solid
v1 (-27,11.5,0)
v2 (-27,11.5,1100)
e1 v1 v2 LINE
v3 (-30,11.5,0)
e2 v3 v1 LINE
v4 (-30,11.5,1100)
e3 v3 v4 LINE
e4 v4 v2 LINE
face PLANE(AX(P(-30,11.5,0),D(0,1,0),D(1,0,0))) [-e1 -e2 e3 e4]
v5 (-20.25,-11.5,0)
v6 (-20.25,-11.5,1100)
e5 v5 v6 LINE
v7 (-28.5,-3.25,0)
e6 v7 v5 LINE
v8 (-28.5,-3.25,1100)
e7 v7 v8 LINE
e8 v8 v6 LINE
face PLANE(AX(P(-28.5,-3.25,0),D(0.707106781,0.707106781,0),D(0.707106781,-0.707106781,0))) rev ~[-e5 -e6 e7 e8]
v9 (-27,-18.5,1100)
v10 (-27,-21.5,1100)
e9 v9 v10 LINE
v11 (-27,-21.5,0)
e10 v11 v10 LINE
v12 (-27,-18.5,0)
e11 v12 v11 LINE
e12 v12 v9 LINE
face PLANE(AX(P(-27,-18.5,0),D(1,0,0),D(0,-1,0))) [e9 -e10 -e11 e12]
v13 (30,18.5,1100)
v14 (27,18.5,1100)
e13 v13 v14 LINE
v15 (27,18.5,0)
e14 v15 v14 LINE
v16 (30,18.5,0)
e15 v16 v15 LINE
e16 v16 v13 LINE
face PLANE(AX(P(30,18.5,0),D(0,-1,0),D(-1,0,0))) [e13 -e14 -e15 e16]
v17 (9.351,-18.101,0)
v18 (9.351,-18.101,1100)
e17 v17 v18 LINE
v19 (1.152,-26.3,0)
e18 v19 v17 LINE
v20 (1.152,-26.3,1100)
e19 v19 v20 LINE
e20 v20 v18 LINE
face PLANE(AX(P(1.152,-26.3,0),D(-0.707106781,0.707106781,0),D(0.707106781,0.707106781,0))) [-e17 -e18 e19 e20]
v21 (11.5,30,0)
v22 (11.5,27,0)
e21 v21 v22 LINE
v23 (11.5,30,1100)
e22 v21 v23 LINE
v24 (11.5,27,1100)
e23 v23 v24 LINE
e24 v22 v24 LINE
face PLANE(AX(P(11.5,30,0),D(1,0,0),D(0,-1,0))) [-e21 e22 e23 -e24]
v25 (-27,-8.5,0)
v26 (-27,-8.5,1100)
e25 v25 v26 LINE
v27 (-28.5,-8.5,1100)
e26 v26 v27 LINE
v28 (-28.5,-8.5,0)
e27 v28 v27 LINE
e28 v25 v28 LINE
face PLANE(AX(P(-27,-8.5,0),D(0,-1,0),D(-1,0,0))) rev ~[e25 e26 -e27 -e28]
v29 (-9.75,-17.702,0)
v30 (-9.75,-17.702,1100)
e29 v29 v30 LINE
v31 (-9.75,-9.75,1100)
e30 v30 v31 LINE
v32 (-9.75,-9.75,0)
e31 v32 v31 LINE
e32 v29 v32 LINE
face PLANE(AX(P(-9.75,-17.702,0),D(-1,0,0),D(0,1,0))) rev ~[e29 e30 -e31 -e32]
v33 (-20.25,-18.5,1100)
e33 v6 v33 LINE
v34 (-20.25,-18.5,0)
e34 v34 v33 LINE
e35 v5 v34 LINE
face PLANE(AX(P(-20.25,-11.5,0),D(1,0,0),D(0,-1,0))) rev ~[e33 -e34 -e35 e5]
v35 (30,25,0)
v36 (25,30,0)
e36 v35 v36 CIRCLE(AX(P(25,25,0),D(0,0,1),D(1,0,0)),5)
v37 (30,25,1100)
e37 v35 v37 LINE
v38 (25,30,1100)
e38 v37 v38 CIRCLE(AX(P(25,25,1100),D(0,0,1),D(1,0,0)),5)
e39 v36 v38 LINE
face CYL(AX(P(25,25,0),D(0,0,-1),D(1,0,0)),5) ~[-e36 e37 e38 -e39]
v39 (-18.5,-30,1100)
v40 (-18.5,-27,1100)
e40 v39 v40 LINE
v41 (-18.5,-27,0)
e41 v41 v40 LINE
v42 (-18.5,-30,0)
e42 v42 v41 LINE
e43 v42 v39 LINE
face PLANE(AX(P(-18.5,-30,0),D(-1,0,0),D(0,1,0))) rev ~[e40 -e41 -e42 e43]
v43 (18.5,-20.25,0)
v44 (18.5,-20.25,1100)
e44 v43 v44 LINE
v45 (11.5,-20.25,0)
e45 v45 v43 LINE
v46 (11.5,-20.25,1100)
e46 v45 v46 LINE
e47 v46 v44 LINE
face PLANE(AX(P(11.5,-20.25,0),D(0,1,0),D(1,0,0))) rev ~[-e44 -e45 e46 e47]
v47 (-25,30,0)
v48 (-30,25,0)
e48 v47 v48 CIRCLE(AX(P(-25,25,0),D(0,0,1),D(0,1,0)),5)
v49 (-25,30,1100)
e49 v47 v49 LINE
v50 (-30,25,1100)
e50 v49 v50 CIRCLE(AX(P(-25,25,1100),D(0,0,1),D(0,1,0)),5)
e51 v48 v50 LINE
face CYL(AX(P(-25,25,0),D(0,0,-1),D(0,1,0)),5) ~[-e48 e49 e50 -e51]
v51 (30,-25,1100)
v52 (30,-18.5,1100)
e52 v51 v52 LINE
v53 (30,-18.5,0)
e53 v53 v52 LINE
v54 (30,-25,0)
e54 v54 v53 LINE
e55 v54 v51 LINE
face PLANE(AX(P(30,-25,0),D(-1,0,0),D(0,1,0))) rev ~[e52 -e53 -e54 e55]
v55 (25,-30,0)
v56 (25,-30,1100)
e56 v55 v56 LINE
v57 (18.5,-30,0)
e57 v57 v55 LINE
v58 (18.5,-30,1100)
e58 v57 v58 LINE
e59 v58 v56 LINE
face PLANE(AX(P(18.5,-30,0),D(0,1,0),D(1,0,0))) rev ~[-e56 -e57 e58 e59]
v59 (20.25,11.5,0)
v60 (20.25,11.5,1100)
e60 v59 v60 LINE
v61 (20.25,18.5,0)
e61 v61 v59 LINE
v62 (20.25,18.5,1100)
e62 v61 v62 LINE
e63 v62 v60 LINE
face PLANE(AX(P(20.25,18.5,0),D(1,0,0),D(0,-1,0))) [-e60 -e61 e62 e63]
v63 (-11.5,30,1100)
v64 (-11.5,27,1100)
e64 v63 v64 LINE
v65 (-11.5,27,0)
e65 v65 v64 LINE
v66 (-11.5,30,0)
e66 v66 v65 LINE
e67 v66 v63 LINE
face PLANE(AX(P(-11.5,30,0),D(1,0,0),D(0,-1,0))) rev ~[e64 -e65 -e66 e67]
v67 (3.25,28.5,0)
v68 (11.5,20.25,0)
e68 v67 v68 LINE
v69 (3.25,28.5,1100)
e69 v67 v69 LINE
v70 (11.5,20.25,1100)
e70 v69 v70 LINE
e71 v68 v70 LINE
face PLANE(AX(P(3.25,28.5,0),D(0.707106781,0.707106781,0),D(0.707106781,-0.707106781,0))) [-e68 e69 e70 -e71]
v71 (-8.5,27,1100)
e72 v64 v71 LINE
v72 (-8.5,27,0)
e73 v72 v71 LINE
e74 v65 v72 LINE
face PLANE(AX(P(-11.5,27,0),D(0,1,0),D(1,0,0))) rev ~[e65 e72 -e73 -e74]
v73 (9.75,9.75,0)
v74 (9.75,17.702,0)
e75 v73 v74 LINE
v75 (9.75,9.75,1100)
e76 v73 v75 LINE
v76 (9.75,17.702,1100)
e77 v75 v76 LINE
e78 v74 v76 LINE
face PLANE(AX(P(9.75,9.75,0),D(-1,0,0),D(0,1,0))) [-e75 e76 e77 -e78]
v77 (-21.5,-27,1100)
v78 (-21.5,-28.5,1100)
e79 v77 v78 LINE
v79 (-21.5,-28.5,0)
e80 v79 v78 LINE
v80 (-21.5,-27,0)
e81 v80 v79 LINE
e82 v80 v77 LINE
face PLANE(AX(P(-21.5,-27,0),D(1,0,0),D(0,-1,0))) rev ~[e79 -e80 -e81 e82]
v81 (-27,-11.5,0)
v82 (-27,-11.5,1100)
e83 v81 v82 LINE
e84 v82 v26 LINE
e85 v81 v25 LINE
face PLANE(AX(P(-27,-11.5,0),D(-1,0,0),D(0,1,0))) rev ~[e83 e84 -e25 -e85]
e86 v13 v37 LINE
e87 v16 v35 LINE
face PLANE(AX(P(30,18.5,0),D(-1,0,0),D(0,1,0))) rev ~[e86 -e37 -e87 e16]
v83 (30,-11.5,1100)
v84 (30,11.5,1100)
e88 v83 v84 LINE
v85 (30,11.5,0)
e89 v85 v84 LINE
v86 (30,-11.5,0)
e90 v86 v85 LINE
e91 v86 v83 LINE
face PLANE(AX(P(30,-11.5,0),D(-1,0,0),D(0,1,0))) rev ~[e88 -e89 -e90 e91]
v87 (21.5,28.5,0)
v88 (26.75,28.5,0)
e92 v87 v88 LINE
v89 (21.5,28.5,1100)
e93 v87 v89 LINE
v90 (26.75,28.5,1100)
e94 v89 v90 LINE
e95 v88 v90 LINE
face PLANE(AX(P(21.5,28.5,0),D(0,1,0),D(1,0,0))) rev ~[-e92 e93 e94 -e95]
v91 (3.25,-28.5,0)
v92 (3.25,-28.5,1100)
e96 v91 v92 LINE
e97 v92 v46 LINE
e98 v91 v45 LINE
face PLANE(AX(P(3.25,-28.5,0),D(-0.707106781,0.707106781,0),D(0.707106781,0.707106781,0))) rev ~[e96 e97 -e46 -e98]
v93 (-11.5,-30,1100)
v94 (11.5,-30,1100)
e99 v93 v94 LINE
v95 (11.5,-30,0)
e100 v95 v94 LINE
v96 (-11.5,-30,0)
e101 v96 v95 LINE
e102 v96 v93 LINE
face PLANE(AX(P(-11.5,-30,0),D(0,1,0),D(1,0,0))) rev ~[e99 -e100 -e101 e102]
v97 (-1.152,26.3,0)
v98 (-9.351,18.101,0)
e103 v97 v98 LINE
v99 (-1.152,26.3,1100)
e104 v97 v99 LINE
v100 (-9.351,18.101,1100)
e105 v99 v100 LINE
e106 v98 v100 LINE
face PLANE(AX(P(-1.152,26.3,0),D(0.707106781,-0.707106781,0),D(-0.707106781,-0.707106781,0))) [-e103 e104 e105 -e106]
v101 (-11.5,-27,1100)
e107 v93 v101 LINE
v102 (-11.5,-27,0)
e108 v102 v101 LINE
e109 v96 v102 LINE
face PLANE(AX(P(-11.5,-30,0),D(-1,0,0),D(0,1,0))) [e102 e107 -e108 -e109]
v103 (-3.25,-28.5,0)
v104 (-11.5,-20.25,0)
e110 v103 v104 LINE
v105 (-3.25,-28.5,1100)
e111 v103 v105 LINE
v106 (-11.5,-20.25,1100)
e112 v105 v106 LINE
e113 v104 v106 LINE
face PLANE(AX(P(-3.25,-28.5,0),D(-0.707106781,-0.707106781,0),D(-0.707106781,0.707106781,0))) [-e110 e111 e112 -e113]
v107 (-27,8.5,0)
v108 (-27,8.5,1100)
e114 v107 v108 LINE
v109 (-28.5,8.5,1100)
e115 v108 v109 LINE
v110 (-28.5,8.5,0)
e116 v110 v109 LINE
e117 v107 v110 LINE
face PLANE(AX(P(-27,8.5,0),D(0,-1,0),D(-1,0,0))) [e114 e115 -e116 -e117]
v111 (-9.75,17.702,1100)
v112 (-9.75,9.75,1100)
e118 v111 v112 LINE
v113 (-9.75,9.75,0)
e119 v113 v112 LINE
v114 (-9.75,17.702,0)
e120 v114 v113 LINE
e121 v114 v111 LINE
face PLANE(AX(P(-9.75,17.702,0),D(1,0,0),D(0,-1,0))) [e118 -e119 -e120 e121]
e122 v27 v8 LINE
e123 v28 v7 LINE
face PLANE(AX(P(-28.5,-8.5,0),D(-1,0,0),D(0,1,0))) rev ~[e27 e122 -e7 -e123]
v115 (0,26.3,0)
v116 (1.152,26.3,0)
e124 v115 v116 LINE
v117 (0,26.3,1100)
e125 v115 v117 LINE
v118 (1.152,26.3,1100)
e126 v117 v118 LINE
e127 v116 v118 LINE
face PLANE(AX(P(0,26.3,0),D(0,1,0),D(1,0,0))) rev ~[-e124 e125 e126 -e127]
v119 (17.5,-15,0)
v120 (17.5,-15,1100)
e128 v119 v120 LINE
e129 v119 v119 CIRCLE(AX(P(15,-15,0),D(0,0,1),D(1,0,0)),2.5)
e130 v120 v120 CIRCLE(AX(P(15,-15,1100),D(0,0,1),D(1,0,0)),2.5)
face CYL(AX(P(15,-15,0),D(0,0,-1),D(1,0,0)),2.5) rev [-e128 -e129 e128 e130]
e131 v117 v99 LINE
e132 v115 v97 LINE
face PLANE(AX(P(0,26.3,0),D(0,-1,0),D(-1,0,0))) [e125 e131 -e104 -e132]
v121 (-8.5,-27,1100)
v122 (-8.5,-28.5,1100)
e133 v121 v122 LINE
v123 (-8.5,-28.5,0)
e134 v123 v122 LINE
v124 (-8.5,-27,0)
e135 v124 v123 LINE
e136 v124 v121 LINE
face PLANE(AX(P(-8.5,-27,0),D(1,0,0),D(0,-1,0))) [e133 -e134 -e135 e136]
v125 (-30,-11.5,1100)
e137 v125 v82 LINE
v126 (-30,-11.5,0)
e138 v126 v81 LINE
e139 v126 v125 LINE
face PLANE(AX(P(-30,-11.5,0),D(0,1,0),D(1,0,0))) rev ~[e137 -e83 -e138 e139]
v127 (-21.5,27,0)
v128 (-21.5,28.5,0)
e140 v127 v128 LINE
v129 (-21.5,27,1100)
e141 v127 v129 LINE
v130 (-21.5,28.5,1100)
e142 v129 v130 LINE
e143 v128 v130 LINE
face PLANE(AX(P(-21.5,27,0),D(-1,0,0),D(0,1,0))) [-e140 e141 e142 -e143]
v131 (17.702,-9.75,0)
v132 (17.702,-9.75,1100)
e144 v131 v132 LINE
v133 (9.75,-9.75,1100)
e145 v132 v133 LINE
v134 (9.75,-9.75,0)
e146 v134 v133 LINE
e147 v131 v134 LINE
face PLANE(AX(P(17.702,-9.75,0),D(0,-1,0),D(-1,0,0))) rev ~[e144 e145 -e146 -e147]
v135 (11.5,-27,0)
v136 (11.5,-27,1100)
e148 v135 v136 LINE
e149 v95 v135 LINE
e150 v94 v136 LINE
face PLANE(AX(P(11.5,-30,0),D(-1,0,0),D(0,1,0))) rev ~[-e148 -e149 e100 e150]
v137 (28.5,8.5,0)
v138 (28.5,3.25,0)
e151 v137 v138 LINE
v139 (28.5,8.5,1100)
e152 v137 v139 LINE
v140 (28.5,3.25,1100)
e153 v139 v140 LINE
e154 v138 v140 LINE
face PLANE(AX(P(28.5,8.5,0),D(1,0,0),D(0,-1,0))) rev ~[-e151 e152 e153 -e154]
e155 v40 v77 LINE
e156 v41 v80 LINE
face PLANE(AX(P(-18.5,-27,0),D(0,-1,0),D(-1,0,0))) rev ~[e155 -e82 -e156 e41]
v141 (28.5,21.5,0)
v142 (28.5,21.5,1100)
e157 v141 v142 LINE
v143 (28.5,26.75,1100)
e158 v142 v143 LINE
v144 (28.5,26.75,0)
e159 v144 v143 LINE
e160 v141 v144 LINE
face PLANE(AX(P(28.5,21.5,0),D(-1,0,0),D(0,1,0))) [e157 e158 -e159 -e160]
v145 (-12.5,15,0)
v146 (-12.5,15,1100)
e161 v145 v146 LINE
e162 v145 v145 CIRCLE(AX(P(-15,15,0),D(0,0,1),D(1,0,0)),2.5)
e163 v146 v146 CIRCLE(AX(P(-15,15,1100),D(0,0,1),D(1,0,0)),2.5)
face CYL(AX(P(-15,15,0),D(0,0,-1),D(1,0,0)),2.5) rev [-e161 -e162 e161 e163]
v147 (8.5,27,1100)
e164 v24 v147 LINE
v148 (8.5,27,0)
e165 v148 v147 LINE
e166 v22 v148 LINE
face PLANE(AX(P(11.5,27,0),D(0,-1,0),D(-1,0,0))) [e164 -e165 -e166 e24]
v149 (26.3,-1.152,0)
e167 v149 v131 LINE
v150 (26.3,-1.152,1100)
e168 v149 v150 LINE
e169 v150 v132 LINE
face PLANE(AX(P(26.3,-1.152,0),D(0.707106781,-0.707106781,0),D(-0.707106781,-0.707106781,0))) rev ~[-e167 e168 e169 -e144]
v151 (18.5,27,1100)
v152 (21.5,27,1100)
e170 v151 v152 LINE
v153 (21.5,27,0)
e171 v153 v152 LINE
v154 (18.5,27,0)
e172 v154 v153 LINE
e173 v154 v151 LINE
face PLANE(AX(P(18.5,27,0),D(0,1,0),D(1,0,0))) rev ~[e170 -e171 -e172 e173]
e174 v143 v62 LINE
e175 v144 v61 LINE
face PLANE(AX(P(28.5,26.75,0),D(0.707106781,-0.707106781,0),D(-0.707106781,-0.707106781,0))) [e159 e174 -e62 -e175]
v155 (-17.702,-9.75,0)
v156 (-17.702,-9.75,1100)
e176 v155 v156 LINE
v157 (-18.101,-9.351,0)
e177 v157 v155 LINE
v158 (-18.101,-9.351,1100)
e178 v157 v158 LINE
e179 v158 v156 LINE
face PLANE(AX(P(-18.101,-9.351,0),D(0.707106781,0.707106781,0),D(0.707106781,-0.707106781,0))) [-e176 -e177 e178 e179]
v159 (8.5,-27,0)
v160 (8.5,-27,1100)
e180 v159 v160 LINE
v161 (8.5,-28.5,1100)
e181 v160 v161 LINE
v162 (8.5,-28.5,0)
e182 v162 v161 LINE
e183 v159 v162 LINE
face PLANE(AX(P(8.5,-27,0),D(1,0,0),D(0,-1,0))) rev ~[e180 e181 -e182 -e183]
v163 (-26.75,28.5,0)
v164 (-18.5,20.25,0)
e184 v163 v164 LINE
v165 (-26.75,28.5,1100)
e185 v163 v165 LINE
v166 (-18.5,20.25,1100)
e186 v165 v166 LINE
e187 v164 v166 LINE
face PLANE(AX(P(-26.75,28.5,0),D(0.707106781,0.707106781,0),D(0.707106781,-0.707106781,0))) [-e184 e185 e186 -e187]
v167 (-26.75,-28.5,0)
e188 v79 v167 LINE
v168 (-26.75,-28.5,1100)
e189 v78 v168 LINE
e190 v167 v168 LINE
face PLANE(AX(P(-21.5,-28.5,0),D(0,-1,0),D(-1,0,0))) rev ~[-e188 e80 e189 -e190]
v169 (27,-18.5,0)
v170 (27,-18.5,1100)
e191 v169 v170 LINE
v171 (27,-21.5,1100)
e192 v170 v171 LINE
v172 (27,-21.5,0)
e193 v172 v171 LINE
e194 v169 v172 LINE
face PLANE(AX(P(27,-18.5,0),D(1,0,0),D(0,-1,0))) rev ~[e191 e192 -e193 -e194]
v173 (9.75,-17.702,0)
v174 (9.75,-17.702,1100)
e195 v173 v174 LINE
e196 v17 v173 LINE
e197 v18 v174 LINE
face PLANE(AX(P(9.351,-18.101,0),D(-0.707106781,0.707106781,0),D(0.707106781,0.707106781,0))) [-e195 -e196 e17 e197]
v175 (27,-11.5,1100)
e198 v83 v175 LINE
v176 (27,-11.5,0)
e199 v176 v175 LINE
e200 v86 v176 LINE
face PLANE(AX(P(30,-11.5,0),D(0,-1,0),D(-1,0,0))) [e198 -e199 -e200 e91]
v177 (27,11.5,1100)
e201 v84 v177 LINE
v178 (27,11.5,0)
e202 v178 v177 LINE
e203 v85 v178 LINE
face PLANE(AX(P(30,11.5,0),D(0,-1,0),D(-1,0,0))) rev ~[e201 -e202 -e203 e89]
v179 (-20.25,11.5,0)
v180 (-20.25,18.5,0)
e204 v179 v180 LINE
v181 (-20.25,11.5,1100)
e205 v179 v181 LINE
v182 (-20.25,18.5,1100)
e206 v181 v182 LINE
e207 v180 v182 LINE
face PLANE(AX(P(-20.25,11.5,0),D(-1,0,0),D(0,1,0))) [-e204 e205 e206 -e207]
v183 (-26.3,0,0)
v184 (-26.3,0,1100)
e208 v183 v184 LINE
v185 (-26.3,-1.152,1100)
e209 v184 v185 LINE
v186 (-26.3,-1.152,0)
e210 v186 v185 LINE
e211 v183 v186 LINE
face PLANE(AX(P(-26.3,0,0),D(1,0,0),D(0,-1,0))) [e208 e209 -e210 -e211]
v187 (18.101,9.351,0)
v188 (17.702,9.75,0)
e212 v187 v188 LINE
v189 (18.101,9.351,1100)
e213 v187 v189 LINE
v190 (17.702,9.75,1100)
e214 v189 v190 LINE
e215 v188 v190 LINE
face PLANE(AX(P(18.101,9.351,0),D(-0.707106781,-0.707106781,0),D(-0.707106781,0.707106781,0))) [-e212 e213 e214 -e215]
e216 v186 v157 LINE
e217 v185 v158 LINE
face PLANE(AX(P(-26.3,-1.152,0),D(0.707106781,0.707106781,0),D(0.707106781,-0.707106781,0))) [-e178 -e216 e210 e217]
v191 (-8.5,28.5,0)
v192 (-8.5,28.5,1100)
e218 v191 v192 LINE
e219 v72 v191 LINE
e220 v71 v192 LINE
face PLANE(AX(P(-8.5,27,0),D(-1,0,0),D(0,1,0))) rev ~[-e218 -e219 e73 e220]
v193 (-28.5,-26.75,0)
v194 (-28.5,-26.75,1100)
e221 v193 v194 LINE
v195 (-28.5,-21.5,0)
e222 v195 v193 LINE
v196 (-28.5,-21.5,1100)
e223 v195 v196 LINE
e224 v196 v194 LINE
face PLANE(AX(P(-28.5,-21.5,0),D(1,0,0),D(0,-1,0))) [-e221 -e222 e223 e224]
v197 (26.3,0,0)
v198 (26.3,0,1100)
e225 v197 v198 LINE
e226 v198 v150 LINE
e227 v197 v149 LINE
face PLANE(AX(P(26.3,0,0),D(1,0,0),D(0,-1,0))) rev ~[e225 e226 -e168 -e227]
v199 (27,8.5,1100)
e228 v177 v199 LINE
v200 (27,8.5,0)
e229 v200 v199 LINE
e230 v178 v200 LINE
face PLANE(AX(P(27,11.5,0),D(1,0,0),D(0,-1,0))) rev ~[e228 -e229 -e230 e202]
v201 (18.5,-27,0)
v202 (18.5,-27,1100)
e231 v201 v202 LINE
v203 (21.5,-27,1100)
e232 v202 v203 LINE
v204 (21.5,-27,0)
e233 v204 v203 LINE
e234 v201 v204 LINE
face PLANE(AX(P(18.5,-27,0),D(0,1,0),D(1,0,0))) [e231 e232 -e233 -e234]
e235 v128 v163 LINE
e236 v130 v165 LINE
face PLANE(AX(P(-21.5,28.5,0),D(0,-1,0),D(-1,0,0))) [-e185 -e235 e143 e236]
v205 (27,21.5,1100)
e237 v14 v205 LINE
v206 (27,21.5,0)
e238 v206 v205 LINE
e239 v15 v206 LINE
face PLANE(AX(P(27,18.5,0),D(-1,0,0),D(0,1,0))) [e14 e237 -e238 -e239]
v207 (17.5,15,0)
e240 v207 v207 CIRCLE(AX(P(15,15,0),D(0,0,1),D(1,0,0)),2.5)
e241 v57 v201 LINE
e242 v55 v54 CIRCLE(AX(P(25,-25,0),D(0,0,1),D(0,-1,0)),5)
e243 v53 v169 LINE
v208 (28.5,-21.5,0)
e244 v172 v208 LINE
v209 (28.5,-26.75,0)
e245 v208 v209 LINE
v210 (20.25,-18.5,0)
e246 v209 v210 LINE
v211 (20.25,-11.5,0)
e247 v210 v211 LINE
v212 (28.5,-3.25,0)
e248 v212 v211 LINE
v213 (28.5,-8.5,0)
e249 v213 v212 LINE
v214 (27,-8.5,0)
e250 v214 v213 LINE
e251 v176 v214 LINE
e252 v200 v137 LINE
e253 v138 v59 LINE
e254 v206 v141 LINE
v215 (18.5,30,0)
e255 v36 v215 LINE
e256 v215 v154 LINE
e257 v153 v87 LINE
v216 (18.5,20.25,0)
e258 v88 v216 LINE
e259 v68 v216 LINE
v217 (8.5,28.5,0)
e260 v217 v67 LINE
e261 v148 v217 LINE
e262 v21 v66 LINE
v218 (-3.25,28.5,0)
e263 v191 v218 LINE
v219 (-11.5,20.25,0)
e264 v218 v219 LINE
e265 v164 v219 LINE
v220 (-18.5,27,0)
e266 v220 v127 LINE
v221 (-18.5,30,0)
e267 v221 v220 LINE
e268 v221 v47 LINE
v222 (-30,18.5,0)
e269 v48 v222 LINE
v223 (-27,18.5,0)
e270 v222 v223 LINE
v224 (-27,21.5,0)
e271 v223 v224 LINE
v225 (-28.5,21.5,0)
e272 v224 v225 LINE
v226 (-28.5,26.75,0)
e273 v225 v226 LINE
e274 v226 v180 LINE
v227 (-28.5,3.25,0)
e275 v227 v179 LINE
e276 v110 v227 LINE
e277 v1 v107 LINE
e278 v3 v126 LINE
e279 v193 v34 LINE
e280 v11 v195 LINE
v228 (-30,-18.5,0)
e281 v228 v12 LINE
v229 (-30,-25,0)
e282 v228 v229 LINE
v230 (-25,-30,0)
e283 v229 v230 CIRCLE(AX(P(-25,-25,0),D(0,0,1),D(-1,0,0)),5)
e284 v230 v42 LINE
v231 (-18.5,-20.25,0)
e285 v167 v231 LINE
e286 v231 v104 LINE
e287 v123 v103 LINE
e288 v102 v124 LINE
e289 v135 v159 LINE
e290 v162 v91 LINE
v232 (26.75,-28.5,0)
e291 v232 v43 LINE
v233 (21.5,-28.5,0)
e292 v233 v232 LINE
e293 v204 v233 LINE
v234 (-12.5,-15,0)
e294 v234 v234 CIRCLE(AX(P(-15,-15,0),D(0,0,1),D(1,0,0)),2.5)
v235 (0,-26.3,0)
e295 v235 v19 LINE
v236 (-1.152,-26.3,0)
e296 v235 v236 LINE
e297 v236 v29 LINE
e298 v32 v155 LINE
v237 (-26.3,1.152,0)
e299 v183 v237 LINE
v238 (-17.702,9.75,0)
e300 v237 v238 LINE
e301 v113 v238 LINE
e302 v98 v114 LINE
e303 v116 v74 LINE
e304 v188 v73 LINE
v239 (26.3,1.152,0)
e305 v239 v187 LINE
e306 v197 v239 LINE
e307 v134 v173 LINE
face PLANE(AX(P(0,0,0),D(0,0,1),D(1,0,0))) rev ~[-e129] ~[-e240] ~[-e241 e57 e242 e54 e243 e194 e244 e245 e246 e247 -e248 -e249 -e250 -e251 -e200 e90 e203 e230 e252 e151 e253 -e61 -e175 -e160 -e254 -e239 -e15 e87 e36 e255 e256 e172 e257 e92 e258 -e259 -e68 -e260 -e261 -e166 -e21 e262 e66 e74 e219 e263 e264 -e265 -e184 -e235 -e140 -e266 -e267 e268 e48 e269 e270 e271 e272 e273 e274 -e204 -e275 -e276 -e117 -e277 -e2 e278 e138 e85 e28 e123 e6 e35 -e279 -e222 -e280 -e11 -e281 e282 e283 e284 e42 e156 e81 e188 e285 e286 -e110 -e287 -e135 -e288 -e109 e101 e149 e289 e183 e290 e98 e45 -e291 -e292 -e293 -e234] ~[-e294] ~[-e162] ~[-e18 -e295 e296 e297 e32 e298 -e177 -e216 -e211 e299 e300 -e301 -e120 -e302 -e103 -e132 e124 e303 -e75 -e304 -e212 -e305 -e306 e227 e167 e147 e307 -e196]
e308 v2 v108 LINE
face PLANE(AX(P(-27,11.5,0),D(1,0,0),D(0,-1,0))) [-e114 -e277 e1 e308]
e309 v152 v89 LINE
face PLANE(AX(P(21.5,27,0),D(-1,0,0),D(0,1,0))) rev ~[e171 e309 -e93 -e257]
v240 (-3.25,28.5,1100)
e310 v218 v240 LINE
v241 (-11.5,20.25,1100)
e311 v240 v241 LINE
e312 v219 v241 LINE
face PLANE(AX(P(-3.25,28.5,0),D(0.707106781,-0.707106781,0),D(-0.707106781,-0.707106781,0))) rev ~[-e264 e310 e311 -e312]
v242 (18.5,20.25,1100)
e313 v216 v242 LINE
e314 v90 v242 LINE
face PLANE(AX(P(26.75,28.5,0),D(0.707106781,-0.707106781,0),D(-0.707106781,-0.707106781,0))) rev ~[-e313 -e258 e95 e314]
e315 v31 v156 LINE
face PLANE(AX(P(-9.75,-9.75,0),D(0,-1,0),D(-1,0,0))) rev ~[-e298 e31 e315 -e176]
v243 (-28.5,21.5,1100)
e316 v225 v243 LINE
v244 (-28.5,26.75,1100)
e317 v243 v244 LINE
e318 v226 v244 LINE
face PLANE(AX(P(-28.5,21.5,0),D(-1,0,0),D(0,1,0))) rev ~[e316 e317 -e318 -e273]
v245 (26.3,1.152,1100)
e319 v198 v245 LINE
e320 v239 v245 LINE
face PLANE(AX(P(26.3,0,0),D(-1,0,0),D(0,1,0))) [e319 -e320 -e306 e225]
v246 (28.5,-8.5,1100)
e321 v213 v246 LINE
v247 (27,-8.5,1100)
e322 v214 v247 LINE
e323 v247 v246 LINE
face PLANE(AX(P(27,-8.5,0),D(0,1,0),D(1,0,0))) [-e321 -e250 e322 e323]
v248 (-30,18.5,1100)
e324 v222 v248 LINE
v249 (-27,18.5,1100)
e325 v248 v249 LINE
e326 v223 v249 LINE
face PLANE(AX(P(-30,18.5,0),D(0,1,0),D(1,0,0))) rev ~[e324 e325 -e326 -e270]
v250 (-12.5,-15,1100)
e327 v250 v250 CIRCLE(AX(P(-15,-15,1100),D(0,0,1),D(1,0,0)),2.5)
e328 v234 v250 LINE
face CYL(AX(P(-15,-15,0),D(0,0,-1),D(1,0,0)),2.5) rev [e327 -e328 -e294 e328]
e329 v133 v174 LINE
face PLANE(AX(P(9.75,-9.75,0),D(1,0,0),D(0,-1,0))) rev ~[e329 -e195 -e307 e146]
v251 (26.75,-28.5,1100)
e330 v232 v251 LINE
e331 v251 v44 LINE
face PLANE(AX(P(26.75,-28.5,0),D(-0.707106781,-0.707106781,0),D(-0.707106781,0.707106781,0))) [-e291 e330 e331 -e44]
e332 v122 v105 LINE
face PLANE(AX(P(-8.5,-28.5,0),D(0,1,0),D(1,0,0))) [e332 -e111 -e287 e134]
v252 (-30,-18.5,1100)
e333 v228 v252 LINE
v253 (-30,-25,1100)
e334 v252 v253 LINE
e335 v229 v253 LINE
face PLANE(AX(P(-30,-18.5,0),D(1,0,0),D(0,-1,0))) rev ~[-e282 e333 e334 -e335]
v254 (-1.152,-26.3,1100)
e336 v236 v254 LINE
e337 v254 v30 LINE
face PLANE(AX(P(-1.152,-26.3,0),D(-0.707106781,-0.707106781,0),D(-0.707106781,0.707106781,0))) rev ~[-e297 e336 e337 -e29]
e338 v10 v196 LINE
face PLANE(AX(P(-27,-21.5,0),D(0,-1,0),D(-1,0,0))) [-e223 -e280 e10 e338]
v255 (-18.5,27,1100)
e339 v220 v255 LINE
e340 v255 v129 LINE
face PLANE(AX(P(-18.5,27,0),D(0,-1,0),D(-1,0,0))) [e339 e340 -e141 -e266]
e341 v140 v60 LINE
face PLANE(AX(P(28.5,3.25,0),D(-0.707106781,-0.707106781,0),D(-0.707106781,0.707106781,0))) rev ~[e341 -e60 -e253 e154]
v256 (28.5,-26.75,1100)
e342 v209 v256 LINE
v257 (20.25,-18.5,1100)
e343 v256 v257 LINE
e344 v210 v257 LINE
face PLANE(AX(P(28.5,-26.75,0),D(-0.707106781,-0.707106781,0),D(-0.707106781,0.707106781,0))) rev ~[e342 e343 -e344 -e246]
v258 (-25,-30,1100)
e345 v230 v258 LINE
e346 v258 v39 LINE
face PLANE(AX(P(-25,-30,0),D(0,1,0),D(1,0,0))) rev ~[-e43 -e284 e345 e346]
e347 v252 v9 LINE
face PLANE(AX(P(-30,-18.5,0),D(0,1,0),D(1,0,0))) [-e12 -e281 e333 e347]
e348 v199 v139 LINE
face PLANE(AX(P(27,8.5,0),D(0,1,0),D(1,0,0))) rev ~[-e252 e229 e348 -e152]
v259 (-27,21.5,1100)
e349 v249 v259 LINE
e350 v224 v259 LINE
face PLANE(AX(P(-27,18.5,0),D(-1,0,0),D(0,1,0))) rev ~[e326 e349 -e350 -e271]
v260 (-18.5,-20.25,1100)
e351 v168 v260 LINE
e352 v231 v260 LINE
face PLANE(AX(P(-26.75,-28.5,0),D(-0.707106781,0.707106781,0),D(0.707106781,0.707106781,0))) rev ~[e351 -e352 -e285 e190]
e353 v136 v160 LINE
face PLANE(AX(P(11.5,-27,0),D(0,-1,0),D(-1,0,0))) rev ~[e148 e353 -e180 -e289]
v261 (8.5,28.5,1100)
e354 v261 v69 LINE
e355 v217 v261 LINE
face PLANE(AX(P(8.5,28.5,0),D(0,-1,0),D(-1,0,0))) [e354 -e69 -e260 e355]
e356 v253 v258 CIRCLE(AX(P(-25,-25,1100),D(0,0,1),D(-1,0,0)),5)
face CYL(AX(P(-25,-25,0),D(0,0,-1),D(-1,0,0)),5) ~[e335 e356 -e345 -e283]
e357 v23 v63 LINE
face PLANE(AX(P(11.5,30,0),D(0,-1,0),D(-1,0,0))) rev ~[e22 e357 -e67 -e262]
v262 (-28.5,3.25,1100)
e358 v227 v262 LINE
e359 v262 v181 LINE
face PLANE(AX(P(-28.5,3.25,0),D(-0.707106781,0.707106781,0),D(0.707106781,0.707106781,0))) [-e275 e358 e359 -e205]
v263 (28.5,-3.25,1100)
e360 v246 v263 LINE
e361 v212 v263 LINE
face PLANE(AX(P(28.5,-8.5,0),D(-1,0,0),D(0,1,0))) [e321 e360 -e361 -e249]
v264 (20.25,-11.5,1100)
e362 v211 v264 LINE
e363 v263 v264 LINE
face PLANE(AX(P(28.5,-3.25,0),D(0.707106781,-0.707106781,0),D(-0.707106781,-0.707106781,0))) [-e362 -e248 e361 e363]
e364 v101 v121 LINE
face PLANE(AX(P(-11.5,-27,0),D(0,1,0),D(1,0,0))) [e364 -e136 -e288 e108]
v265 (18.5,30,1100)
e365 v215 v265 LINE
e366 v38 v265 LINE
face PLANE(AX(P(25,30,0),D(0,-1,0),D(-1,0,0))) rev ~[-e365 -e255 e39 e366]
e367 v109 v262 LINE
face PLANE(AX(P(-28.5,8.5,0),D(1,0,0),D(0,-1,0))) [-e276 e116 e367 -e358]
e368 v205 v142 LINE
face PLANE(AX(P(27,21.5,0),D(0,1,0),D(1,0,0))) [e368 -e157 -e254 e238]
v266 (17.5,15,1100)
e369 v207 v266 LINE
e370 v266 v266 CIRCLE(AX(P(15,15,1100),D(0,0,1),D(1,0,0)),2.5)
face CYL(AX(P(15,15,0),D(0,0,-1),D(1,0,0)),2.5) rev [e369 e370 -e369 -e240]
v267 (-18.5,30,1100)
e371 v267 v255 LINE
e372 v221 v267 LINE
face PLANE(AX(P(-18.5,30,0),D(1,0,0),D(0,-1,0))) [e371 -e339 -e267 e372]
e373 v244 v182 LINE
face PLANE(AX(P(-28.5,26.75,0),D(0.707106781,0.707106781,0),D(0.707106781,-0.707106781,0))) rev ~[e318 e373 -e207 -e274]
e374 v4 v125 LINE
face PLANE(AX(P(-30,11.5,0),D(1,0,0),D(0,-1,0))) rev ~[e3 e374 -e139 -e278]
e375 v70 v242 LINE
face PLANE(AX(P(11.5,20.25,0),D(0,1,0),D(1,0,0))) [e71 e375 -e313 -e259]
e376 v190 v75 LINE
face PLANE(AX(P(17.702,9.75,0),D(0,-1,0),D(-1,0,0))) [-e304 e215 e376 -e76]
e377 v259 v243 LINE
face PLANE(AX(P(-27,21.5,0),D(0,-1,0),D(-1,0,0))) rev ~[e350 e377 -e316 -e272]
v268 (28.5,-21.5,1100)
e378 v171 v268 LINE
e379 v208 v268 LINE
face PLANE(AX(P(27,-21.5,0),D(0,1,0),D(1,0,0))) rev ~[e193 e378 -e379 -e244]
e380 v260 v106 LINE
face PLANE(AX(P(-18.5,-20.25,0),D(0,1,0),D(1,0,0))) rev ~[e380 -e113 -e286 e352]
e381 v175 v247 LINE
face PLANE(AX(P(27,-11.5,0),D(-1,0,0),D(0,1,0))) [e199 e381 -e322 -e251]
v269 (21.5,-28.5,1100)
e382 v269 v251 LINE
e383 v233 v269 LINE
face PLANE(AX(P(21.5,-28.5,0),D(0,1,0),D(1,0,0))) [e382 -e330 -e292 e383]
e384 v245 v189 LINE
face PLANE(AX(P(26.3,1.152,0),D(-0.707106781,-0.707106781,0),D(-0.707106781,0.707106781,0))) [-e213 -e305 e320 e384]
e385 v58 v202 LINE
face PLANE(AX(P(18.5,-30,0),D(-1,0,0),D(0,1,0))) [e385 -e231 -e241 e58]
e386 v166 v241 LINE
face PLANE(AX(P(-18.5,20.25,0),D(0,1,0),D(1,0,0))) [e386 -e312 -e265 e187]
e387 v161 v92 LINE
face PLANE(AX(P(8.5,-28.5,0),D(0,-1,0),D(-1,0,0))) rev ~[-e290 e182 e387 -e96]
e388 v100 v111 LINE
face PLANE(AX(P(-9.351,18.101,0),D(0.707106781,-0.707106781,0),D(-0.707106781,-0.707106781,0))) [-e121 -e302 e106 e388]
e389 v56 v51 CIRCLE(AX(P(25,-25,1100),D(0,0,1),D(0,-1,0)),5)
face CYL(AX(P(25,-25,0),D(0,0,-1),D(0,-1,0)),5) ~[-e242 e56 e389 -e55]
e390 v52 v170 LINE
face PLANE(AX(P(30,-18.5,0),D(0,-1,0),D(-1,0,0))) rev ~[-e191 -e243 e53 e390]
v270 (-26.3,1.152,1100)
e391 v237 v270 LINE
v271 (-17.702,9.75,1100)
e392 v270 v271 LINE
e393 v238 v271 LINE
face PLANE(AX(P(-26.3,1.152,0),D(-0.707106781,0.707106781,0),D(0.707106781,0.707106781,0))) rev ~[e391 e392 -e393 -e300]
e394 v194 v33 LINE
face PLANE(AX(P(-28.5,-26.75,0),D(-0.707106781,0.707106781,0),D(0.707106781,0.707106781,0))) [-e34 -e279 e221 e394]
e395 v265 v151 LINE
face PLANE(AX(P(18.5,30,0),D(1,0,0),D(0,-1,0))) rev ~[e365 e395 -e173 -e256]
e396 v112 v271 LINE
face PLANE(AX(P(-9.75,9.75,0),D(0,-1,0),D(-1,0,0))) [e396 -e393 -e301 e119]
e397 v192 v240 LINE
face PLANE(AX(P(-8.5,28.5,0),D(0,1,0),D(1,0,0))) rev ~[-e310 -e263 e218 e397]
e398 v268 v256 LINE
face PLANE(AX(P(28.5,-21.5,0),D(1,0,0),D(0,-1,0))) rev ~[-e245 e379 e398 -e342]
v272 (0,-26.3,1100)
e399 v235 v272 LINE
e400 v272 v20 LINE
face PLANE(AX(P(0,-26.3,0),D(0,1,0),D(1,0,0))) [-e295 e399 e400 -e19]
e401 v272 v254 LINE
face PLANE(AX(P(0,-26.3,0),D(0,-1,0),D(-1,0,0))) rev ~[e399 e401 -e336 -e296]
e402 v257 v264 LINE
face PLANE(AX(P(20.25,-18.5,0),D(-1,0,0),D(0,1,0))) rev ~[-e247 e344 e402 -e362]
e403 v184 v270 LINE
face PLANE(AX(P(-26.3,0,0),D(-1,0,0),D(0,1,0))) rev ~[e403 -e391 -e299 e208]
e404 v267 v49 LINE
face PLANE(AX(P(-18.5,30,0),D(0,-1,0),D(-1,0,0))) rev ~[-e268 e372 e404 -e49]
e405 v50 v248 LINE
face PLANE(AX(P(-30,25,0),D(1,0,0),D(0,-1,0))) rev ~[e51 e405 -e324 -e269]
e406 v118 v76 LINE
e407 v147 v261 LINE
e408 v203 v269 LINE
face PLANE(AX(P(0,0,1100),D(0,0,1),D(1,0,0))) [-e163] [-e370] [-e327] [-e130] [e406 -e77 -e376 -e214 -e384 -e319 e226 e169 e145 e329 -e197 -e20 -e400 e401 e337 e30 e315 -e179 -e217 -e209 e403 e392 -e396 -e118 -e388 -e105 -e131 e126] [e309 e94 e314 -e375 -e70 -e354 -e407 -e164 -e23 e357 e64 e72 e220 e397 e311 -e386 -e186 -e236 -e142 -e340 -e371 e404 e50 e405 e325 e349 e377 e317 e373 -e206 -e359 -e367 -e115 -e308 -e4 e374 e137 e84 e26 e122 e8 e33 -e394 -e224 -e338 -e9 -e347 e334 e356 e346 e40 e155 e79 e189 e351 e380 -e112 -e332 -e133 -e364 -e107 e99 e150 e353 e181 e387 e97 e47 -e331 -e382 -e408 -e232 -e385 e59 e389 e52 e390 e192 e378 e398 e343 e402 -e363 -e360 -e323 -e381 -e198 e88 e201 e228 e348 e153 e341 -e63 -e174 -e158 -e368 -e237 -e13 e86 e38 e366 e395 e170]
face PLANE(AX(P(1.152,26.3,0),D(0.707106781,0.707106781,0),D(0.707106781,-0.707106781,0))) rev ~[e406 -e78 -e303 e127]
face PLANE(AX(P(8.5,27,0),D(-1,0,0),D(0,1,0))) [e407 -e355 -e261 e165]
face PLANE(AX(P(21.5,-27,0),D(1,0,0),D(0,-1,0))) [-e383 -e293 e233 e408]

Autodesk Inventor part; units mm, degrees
ref_plane "YZ Plane" through (0, 0, 0) normal (1, 0, 0) x (0, 1, 0)
ref_plane "XZ Plane" through (0, 0, 0) normal (0, 1, 0) x (-1, 0, 0)
ref_plane "XY Plane" through (0, 0, 0) normal (0, 0, 1) x (1, 0, 0)
sketch "Skizze1" plane through (0, 0, 0) normal (0, 0, 1) x (1, 0, 0)
  line L0 (-30, -30) -> (30, 30) construction
  line L1 (30, -30) -> (-30, 30) construction
  line L2 (-15, -15) -> (15, -15) construction
  line L3 (15, -15) -> (15, 15) construction
  line L4 (15, 15) -> (-15, 15) construction
  line L5 (-15, 15) -> (-15, -15) construction
  line L6 (-15, -15) -> (15, 15) construction
  line L7 (15, -15) -> (-15, 15) construction
  circle A0 centre (-15, 15) radius 2.5
  circle A1 centre (15, 15) radius 2.5
  circle A2 centre (15, -15) radius 2.5
  circle A3 centre (-15, -15) radius 2.5
  line L8 (-18.5, 20.25) -> (-11.5, 20.25)
  line L9 (-9.75, 17.702) -> (-9.75, 9.75)
  line L10 (-9.75, 9.75) -> (-17.702, 9.75)
  line L11 (-20.25, 11.5) -> (-20.25, 18.5)
  line L12 (-20.25, 20.25) -> (-9.75, 9.75) construction
  line L13 (-9.75, 20.25) -> (-20.25, 9.75) construction
  line L14 (11.5, 20.25) -> (18.5, 20.25)
  line L15 (20.25, 18.5) -> (20.25, 11.5)
  line L16 (17.702, 9.75) -> (9.75, 9.75)
  line L17 (9.75, 9.75) -> (9.75, 17.702)
  line L18 (9.75, 20.25) -> (20.25, 9.75) construction
  line L19 (20.25, 20.25) -> (9.75, 9.75) construction
  line L20 (11.5, -20.25) -> (18.5, -20.25)
  line L21 (20.25, -18.5) -> (20.25, -11.5)
  line L22 (17.702, -9.75) -> (9.75, -9.75)
  line L23 (9.75, -9.75) -> (9.75, -17.702)
  line L24 (9.75, -20.25) -> (20.25, -9.75) construction
  line L25 (20.25, -20.25) -> (9.75, -9.75) construction
  line L26 (-18.5, -20.25) -> (-11.5, -20.25)
  line L27 (-9.75, -17.702) -> (-9.75, -9.75)
  line L28 (-9.75, -9.75) -> (-17.702, -9.75)
  line L29 (-20.25, -11.5) -> (-20.25, -18.5)
  line L30 (-20.25, -20.25) -> (-9.75, -9.75) construction
  line L31 (-9.75, -20.25) -> (-20.25, -9.75) construction
  arc A4 (-25, 30) -> (-30, 25) centre (-25, 25) ccw
  arc A5 (30, 25) -> (25, 30) centre (25, 25) ccw
  arc A6 (25, -30) -> (30, -25) centre (25, -25) ccw
  arc A7 (-30, -25) -> (-25, -30) centre (-25, -25) ccw
  line L32 (0, 30) -> (-11.5, 30) construction
  line L33 (-11.5, 30) -> (-11.5, 27)
  line L34 (-11.5, 27) -> (-8.5, 27)
  line L35 (-8.5, 27) -> (-8.5, 28.5)
  line L36 (-8.5, 28.5) -> (-3.25, 28.5)
  line L37 (-3.25, 28.5) -> (-11.5, 20.25)
  line L38 (-11.5, 30) -> (-15, 30) construction
  line L39 (-18.5, 30) -> (-18.5, 27)
  line L40 (-18.5, 27) -> (-21.5, 27)
  line L41 (-21.5, 27) -> (-21.5, 28.5)
  line L42 (-21.5, 28.5) -> (-26.75, 28.5)
  line L43 (-26.75, 28.5) -> (-18.5, 20.25)
  line L44 (-26.75, 28.5) -> (-15.0827, 28.5) construction
  line L45 (-28.5, -26.75) -> (-20.25, -18.5)
  line L46 (-28.5, -21.5) -> (-28.5, -26.75)
  line L47 (-27, -21.5) -> (-28.5, -21.5)
  line L48 (-27, -18.5) -> (-27, -21.5)
  line L49 (-30, -18.5) -> (-27, -18.5)
  line L50 (-30, -11.5) -> (-27, -11.5)
  line L51 (-27, -11.5) -> (-27, -8.5)
  line L52 (-27, -8.5) -> (-28.5, -8.5)
  line L53 (-28.5, -8.5) -> (-28.5, -3.25)
  line L54 (-28.5, -3.25) -> (-20.25, -11.5)
  line L55 (26.75, -28.5) -> (18.5, -20.25)
  line L56 (21.5, -28.5) -> (26.75, -28.5)
  line L57 (21.5, -27) -> (21.5, -28.5)
  line L58 (18.5, -27) -> (21.5, -27)
  line L59 (18.5, -30) -> (18.5, -27)
  line L60 (11.5, -30) -> (11.5, -27)
  line L61 (11.5, -27) -> (8.5, -27)
  line L62 (8.5, -27) -> (8.5, -28.5)
  line L63 (8.5, -28.5) -> (3.25, -28.5)
  line L64 (3.25, -28.5) -> (11.5, -20.25)
  line L65 (28.5, 26.75) -> (20.25, 18.5)
  line L66 (28.5, 21.5) -> (28.5, 26.75)
  line L67 (27, 21.5) -> (28.5, 21.5)
  line L68 (27, 18.5) -> (27, 21.5)
  line L69 (30, 18.5) -> (27, 18.5)
  line L70 (30, 11.5) -> (27, 11.5)
  line L71 (27, 11.5) -> (27, 8.5)
  line L72 (27, 8.5) -> (28.5, 8.5)
  line L73 (28.5, 8.5) -> (28.5, 3.25)
  line L74 (28.5, 3.25) -> (20.25, 11.5)
  line L75 (0, 30) -> (0, -30) construction
  line L76 (-28.5, 26.75) -> (-20.25, 18.5)
  line L77 (-28.5, 21.5) -> (-28.5, 26.75)
  line L78 (-27, 21.5) -> (-28.5, 21.5)
  line L79 (-27, 18.5) -> (-27, 21.5)
  line L80 (-30, 18.5) -> (-27, 18.5)
  line L81 (-30, 11.5) -> (-27, 11.5)
  line L82 (-27, 11.5) -> (-27, 8.5)
  line L83 (-27, 8.5) -> (-28.5, 8.5)
  line L84 (-28.5, 8.5) -> (-28.5, 3.25)
  line L85 (-28.5, 3.25) -> (-20.25, 11.5)
  line L86 (-26.75, -28.5) -> (-18.5, -20.25)
  line L87 (-21.5, -28.5) -> (-26.75, -28.5)
  line L88 (-21.5, -27) -> (-21.5, -28.5)
  line L89 (-18.5, -27) -> (-21.5, -27)
  line L90 (-18.5, -30) -> (-18.5, -27)
  line L91 (-11.5, -30) -> (-11.5, -27)
  line L92 (-11.5, -27) -> (-8.5, -27)
  line L93 (-8.5, -27) -> (-8.5, -28.5)
  line L94 (-8.5, -28.5) -> (-3.25, -28.5)
  line L95 (-3.25, -28.5) -> (-11.5, -20.25)
  line L96 (28.5, -26.75) -> (20.25, -18.5)
  line L97 (28.5, -21.5) -> (28.5, -26.75)
  line L98 (27, -21.5) -> (28.5, -21.5)
  line L99 (27, -18.5) -> (27, -21.5)
  line L100 (30, -18.5) -> (27, -18.5)
  line L101 (30, -11.5) -> (27, -11.5)
  line L102 (27, -11.5) -> (27, -8.5)
  line L103 (27, -8.5) -> (28.5, -8.5)
  line L104 (28.5, -8.5) -> (28.5, -3.25)
  line L105 (28.5, -3.25) -> (20.25, -11.5)
  line L106 (26.75, 28.5) -> (18.5, 20.25)
  line L107 (21.5, 28.5) -> (26.75, 28.5)
  line L108 (21.5, 27) -> (21.5, 28.5)
  line L109 (18.5, 27) -> (21.5, 27)
  line L110 (18.5, 30) -> (18.5, 27)
  line L111 (11.5, 30) -> (11.5, 27)
  line L112 (11.5, 27) -> (8.5, 27)
  line L113 (8.5, 27) -> (8.5, 28.5)
  line L114 (8.5, 28.5) -> (3.25, 28.5)
  line L115 (3.25, 28.5) -> (11.5, 20.25)
  line L116 (25, 30) -> (18.5, 30)
  line L117 (30, 18.5) -> (30, 25)
  line L118 (30, -25) -> (30, -18.5)
  line L119 (30, -11.5) -> (30, 11.5)
  line L120 (18.5, -30) -> (25, -30)
  line L121 (-25, -30) -> (-18.5, -30)
  line L122 (-11.5, -30) -> (11.5, -30)
  line L123 (-30, -18.5) -> (-30, -25)
  line L124 (-30, 25) -> (-30, 18.5)
  line L125 (-30, 11.5) -> (-30, -11.5)
  line L126 (11.5, 30) -> (-11.5, 30)
  line L127 (-18.5, 30) -> (-25, 30)
  line L128 (0, 30) -> (0, 26.3) construction
  line L129 (0, 26.3) -> (-1.152, 26.3)
  line L130 (0, 26.3) -> (1.152, 26.3)
  line L131 (1.152, 26.3) -> (9.75, 17.702)
  line L132 (-1.152, 26.3) -> (-9.351, 18.101)
  line L133 (-1.152, 26.3) -> (10.4431, 26.3) construction
  line L134 (-9.351, 18.101) -> (-9.75, 17.702)
  line L135 (-30, 0) -> (30, 0) construction
  line L136 (-26.3, -1.152) -> (-18.101, -9.351)
  line L137 (-18.101, -9.351) -> (-17.702, -9.75)
  line L138 (-26.3, 0) -> (-26.3, -1.152)
  line L139 (-26.3, 1.152) -> (-17.702, 9.75)
  line L140 (-26.3, -1.152) -> (-26.3, 10.4431) construction
  line L141 (-26.3, 0) -> (-26.3, 1.152)
  line L142 (1.152, -26.3) -> (9.351, -18.101)
  line L143 (9.351, -18.101) -> (9.75, -17.702)
  line L144 (0, -26.3) -> (1.152, -26.3)
  line L145 (-1.152, -26.3) -> (-9.75, -17.702)
  line L146 (1.152, -26.3) -> (-10.4431, -26.3) construction
  line L147 (0, -26.3) -> (-1.152, -26.3)
  line L148 (26.3, 1.152) -> (18.101, 9.351)
  line L149 (18.101, 9.351) -> (17.702, 9.75)
  line L150 (26.3, 0) -> (26.3, 1.152)
  line L151 (26.3, -1.152) -> (17.702, -9.75)
  line L152 (26.3, 1.152) -> (26.3, -10.4431) construction
  line L153 (26.3, 0) -> (26.3, -1.152)
  point P0 (0, 0)
  dimension "d0" = 60
  dimension "d1" = 60
  dimension "d2" = 30
  dimension "d3" = 30
  dimension "d4" = 5
  dimension "d5" = 5
  dimension "d6" = 5
  dimension "d7" = 5
  dimension "d8" = 10.5
  dimension "d9" = 10.5
  dimension "d10" = 10.5
  dimension "d11" = 10.5
  dimension "d12" = 10.5
  dimension "d13" = 10.5
  dimension "d14" = 10.5
  dimension "d15" = 10.5
  dimension "d16" = 5
  dimension "d17" = 5
  dimension "d18" = 11.5
  dimension "d19" = 3
  dimension "d20" = 3
  dimension "d21" = 1.5
  dimension "d22" = 5.25
  dimension "d23" = 45
  dimension "d24" = 7
  dimension "d25" = 3
  dimension "d26" = 3
  dimension "d27" = 1.5
  dimension "d28" = 5.25
  dimension "d29" = 45
  dimension "d32" = 360
  dimension "d36" = 360
  dimension "d38" = 3.7
  dimension "d39" = 1.152
  dimension "d40" = 1.152
  dimension "d41" = 135
  dimension "d42" = 135
  dimension "d45" = 360
extrude "Extrusion1" add sketch "Skizze1" along normal blind 1100
thread "Gewinde1" size "M5x0.8" class "6H" standard "ISO Metric profile" length 20
thread "Gewinde2" size "M5x0.8" class "6H" standard "ISO Metric profile" length 20
thread "Gewinde3" size "M5x0.8" class "6H" standard "ISO Metric profile" length 20
thread "Gewinde4" size "M5x0.8" class "6H" standard "ISO Metric profile" length 20
thread "Gewinde5" size "M5x0.8" class "6H" standard "ISO Metric profile" length 20
thread "Gewinde6" size "M5x0.8" class "6H" standard "ISO Metric profile" length 20
thread "Gewinde7" size "M5x0.8" class "6H" standard "ISO Metric profile" length 20
thread "Gewinde8" size "M5x0.8" class "6H" standard "ISO Metric profile" length 20
properties part number "60x60x1100 Profil" material "Aluminium 6061"
